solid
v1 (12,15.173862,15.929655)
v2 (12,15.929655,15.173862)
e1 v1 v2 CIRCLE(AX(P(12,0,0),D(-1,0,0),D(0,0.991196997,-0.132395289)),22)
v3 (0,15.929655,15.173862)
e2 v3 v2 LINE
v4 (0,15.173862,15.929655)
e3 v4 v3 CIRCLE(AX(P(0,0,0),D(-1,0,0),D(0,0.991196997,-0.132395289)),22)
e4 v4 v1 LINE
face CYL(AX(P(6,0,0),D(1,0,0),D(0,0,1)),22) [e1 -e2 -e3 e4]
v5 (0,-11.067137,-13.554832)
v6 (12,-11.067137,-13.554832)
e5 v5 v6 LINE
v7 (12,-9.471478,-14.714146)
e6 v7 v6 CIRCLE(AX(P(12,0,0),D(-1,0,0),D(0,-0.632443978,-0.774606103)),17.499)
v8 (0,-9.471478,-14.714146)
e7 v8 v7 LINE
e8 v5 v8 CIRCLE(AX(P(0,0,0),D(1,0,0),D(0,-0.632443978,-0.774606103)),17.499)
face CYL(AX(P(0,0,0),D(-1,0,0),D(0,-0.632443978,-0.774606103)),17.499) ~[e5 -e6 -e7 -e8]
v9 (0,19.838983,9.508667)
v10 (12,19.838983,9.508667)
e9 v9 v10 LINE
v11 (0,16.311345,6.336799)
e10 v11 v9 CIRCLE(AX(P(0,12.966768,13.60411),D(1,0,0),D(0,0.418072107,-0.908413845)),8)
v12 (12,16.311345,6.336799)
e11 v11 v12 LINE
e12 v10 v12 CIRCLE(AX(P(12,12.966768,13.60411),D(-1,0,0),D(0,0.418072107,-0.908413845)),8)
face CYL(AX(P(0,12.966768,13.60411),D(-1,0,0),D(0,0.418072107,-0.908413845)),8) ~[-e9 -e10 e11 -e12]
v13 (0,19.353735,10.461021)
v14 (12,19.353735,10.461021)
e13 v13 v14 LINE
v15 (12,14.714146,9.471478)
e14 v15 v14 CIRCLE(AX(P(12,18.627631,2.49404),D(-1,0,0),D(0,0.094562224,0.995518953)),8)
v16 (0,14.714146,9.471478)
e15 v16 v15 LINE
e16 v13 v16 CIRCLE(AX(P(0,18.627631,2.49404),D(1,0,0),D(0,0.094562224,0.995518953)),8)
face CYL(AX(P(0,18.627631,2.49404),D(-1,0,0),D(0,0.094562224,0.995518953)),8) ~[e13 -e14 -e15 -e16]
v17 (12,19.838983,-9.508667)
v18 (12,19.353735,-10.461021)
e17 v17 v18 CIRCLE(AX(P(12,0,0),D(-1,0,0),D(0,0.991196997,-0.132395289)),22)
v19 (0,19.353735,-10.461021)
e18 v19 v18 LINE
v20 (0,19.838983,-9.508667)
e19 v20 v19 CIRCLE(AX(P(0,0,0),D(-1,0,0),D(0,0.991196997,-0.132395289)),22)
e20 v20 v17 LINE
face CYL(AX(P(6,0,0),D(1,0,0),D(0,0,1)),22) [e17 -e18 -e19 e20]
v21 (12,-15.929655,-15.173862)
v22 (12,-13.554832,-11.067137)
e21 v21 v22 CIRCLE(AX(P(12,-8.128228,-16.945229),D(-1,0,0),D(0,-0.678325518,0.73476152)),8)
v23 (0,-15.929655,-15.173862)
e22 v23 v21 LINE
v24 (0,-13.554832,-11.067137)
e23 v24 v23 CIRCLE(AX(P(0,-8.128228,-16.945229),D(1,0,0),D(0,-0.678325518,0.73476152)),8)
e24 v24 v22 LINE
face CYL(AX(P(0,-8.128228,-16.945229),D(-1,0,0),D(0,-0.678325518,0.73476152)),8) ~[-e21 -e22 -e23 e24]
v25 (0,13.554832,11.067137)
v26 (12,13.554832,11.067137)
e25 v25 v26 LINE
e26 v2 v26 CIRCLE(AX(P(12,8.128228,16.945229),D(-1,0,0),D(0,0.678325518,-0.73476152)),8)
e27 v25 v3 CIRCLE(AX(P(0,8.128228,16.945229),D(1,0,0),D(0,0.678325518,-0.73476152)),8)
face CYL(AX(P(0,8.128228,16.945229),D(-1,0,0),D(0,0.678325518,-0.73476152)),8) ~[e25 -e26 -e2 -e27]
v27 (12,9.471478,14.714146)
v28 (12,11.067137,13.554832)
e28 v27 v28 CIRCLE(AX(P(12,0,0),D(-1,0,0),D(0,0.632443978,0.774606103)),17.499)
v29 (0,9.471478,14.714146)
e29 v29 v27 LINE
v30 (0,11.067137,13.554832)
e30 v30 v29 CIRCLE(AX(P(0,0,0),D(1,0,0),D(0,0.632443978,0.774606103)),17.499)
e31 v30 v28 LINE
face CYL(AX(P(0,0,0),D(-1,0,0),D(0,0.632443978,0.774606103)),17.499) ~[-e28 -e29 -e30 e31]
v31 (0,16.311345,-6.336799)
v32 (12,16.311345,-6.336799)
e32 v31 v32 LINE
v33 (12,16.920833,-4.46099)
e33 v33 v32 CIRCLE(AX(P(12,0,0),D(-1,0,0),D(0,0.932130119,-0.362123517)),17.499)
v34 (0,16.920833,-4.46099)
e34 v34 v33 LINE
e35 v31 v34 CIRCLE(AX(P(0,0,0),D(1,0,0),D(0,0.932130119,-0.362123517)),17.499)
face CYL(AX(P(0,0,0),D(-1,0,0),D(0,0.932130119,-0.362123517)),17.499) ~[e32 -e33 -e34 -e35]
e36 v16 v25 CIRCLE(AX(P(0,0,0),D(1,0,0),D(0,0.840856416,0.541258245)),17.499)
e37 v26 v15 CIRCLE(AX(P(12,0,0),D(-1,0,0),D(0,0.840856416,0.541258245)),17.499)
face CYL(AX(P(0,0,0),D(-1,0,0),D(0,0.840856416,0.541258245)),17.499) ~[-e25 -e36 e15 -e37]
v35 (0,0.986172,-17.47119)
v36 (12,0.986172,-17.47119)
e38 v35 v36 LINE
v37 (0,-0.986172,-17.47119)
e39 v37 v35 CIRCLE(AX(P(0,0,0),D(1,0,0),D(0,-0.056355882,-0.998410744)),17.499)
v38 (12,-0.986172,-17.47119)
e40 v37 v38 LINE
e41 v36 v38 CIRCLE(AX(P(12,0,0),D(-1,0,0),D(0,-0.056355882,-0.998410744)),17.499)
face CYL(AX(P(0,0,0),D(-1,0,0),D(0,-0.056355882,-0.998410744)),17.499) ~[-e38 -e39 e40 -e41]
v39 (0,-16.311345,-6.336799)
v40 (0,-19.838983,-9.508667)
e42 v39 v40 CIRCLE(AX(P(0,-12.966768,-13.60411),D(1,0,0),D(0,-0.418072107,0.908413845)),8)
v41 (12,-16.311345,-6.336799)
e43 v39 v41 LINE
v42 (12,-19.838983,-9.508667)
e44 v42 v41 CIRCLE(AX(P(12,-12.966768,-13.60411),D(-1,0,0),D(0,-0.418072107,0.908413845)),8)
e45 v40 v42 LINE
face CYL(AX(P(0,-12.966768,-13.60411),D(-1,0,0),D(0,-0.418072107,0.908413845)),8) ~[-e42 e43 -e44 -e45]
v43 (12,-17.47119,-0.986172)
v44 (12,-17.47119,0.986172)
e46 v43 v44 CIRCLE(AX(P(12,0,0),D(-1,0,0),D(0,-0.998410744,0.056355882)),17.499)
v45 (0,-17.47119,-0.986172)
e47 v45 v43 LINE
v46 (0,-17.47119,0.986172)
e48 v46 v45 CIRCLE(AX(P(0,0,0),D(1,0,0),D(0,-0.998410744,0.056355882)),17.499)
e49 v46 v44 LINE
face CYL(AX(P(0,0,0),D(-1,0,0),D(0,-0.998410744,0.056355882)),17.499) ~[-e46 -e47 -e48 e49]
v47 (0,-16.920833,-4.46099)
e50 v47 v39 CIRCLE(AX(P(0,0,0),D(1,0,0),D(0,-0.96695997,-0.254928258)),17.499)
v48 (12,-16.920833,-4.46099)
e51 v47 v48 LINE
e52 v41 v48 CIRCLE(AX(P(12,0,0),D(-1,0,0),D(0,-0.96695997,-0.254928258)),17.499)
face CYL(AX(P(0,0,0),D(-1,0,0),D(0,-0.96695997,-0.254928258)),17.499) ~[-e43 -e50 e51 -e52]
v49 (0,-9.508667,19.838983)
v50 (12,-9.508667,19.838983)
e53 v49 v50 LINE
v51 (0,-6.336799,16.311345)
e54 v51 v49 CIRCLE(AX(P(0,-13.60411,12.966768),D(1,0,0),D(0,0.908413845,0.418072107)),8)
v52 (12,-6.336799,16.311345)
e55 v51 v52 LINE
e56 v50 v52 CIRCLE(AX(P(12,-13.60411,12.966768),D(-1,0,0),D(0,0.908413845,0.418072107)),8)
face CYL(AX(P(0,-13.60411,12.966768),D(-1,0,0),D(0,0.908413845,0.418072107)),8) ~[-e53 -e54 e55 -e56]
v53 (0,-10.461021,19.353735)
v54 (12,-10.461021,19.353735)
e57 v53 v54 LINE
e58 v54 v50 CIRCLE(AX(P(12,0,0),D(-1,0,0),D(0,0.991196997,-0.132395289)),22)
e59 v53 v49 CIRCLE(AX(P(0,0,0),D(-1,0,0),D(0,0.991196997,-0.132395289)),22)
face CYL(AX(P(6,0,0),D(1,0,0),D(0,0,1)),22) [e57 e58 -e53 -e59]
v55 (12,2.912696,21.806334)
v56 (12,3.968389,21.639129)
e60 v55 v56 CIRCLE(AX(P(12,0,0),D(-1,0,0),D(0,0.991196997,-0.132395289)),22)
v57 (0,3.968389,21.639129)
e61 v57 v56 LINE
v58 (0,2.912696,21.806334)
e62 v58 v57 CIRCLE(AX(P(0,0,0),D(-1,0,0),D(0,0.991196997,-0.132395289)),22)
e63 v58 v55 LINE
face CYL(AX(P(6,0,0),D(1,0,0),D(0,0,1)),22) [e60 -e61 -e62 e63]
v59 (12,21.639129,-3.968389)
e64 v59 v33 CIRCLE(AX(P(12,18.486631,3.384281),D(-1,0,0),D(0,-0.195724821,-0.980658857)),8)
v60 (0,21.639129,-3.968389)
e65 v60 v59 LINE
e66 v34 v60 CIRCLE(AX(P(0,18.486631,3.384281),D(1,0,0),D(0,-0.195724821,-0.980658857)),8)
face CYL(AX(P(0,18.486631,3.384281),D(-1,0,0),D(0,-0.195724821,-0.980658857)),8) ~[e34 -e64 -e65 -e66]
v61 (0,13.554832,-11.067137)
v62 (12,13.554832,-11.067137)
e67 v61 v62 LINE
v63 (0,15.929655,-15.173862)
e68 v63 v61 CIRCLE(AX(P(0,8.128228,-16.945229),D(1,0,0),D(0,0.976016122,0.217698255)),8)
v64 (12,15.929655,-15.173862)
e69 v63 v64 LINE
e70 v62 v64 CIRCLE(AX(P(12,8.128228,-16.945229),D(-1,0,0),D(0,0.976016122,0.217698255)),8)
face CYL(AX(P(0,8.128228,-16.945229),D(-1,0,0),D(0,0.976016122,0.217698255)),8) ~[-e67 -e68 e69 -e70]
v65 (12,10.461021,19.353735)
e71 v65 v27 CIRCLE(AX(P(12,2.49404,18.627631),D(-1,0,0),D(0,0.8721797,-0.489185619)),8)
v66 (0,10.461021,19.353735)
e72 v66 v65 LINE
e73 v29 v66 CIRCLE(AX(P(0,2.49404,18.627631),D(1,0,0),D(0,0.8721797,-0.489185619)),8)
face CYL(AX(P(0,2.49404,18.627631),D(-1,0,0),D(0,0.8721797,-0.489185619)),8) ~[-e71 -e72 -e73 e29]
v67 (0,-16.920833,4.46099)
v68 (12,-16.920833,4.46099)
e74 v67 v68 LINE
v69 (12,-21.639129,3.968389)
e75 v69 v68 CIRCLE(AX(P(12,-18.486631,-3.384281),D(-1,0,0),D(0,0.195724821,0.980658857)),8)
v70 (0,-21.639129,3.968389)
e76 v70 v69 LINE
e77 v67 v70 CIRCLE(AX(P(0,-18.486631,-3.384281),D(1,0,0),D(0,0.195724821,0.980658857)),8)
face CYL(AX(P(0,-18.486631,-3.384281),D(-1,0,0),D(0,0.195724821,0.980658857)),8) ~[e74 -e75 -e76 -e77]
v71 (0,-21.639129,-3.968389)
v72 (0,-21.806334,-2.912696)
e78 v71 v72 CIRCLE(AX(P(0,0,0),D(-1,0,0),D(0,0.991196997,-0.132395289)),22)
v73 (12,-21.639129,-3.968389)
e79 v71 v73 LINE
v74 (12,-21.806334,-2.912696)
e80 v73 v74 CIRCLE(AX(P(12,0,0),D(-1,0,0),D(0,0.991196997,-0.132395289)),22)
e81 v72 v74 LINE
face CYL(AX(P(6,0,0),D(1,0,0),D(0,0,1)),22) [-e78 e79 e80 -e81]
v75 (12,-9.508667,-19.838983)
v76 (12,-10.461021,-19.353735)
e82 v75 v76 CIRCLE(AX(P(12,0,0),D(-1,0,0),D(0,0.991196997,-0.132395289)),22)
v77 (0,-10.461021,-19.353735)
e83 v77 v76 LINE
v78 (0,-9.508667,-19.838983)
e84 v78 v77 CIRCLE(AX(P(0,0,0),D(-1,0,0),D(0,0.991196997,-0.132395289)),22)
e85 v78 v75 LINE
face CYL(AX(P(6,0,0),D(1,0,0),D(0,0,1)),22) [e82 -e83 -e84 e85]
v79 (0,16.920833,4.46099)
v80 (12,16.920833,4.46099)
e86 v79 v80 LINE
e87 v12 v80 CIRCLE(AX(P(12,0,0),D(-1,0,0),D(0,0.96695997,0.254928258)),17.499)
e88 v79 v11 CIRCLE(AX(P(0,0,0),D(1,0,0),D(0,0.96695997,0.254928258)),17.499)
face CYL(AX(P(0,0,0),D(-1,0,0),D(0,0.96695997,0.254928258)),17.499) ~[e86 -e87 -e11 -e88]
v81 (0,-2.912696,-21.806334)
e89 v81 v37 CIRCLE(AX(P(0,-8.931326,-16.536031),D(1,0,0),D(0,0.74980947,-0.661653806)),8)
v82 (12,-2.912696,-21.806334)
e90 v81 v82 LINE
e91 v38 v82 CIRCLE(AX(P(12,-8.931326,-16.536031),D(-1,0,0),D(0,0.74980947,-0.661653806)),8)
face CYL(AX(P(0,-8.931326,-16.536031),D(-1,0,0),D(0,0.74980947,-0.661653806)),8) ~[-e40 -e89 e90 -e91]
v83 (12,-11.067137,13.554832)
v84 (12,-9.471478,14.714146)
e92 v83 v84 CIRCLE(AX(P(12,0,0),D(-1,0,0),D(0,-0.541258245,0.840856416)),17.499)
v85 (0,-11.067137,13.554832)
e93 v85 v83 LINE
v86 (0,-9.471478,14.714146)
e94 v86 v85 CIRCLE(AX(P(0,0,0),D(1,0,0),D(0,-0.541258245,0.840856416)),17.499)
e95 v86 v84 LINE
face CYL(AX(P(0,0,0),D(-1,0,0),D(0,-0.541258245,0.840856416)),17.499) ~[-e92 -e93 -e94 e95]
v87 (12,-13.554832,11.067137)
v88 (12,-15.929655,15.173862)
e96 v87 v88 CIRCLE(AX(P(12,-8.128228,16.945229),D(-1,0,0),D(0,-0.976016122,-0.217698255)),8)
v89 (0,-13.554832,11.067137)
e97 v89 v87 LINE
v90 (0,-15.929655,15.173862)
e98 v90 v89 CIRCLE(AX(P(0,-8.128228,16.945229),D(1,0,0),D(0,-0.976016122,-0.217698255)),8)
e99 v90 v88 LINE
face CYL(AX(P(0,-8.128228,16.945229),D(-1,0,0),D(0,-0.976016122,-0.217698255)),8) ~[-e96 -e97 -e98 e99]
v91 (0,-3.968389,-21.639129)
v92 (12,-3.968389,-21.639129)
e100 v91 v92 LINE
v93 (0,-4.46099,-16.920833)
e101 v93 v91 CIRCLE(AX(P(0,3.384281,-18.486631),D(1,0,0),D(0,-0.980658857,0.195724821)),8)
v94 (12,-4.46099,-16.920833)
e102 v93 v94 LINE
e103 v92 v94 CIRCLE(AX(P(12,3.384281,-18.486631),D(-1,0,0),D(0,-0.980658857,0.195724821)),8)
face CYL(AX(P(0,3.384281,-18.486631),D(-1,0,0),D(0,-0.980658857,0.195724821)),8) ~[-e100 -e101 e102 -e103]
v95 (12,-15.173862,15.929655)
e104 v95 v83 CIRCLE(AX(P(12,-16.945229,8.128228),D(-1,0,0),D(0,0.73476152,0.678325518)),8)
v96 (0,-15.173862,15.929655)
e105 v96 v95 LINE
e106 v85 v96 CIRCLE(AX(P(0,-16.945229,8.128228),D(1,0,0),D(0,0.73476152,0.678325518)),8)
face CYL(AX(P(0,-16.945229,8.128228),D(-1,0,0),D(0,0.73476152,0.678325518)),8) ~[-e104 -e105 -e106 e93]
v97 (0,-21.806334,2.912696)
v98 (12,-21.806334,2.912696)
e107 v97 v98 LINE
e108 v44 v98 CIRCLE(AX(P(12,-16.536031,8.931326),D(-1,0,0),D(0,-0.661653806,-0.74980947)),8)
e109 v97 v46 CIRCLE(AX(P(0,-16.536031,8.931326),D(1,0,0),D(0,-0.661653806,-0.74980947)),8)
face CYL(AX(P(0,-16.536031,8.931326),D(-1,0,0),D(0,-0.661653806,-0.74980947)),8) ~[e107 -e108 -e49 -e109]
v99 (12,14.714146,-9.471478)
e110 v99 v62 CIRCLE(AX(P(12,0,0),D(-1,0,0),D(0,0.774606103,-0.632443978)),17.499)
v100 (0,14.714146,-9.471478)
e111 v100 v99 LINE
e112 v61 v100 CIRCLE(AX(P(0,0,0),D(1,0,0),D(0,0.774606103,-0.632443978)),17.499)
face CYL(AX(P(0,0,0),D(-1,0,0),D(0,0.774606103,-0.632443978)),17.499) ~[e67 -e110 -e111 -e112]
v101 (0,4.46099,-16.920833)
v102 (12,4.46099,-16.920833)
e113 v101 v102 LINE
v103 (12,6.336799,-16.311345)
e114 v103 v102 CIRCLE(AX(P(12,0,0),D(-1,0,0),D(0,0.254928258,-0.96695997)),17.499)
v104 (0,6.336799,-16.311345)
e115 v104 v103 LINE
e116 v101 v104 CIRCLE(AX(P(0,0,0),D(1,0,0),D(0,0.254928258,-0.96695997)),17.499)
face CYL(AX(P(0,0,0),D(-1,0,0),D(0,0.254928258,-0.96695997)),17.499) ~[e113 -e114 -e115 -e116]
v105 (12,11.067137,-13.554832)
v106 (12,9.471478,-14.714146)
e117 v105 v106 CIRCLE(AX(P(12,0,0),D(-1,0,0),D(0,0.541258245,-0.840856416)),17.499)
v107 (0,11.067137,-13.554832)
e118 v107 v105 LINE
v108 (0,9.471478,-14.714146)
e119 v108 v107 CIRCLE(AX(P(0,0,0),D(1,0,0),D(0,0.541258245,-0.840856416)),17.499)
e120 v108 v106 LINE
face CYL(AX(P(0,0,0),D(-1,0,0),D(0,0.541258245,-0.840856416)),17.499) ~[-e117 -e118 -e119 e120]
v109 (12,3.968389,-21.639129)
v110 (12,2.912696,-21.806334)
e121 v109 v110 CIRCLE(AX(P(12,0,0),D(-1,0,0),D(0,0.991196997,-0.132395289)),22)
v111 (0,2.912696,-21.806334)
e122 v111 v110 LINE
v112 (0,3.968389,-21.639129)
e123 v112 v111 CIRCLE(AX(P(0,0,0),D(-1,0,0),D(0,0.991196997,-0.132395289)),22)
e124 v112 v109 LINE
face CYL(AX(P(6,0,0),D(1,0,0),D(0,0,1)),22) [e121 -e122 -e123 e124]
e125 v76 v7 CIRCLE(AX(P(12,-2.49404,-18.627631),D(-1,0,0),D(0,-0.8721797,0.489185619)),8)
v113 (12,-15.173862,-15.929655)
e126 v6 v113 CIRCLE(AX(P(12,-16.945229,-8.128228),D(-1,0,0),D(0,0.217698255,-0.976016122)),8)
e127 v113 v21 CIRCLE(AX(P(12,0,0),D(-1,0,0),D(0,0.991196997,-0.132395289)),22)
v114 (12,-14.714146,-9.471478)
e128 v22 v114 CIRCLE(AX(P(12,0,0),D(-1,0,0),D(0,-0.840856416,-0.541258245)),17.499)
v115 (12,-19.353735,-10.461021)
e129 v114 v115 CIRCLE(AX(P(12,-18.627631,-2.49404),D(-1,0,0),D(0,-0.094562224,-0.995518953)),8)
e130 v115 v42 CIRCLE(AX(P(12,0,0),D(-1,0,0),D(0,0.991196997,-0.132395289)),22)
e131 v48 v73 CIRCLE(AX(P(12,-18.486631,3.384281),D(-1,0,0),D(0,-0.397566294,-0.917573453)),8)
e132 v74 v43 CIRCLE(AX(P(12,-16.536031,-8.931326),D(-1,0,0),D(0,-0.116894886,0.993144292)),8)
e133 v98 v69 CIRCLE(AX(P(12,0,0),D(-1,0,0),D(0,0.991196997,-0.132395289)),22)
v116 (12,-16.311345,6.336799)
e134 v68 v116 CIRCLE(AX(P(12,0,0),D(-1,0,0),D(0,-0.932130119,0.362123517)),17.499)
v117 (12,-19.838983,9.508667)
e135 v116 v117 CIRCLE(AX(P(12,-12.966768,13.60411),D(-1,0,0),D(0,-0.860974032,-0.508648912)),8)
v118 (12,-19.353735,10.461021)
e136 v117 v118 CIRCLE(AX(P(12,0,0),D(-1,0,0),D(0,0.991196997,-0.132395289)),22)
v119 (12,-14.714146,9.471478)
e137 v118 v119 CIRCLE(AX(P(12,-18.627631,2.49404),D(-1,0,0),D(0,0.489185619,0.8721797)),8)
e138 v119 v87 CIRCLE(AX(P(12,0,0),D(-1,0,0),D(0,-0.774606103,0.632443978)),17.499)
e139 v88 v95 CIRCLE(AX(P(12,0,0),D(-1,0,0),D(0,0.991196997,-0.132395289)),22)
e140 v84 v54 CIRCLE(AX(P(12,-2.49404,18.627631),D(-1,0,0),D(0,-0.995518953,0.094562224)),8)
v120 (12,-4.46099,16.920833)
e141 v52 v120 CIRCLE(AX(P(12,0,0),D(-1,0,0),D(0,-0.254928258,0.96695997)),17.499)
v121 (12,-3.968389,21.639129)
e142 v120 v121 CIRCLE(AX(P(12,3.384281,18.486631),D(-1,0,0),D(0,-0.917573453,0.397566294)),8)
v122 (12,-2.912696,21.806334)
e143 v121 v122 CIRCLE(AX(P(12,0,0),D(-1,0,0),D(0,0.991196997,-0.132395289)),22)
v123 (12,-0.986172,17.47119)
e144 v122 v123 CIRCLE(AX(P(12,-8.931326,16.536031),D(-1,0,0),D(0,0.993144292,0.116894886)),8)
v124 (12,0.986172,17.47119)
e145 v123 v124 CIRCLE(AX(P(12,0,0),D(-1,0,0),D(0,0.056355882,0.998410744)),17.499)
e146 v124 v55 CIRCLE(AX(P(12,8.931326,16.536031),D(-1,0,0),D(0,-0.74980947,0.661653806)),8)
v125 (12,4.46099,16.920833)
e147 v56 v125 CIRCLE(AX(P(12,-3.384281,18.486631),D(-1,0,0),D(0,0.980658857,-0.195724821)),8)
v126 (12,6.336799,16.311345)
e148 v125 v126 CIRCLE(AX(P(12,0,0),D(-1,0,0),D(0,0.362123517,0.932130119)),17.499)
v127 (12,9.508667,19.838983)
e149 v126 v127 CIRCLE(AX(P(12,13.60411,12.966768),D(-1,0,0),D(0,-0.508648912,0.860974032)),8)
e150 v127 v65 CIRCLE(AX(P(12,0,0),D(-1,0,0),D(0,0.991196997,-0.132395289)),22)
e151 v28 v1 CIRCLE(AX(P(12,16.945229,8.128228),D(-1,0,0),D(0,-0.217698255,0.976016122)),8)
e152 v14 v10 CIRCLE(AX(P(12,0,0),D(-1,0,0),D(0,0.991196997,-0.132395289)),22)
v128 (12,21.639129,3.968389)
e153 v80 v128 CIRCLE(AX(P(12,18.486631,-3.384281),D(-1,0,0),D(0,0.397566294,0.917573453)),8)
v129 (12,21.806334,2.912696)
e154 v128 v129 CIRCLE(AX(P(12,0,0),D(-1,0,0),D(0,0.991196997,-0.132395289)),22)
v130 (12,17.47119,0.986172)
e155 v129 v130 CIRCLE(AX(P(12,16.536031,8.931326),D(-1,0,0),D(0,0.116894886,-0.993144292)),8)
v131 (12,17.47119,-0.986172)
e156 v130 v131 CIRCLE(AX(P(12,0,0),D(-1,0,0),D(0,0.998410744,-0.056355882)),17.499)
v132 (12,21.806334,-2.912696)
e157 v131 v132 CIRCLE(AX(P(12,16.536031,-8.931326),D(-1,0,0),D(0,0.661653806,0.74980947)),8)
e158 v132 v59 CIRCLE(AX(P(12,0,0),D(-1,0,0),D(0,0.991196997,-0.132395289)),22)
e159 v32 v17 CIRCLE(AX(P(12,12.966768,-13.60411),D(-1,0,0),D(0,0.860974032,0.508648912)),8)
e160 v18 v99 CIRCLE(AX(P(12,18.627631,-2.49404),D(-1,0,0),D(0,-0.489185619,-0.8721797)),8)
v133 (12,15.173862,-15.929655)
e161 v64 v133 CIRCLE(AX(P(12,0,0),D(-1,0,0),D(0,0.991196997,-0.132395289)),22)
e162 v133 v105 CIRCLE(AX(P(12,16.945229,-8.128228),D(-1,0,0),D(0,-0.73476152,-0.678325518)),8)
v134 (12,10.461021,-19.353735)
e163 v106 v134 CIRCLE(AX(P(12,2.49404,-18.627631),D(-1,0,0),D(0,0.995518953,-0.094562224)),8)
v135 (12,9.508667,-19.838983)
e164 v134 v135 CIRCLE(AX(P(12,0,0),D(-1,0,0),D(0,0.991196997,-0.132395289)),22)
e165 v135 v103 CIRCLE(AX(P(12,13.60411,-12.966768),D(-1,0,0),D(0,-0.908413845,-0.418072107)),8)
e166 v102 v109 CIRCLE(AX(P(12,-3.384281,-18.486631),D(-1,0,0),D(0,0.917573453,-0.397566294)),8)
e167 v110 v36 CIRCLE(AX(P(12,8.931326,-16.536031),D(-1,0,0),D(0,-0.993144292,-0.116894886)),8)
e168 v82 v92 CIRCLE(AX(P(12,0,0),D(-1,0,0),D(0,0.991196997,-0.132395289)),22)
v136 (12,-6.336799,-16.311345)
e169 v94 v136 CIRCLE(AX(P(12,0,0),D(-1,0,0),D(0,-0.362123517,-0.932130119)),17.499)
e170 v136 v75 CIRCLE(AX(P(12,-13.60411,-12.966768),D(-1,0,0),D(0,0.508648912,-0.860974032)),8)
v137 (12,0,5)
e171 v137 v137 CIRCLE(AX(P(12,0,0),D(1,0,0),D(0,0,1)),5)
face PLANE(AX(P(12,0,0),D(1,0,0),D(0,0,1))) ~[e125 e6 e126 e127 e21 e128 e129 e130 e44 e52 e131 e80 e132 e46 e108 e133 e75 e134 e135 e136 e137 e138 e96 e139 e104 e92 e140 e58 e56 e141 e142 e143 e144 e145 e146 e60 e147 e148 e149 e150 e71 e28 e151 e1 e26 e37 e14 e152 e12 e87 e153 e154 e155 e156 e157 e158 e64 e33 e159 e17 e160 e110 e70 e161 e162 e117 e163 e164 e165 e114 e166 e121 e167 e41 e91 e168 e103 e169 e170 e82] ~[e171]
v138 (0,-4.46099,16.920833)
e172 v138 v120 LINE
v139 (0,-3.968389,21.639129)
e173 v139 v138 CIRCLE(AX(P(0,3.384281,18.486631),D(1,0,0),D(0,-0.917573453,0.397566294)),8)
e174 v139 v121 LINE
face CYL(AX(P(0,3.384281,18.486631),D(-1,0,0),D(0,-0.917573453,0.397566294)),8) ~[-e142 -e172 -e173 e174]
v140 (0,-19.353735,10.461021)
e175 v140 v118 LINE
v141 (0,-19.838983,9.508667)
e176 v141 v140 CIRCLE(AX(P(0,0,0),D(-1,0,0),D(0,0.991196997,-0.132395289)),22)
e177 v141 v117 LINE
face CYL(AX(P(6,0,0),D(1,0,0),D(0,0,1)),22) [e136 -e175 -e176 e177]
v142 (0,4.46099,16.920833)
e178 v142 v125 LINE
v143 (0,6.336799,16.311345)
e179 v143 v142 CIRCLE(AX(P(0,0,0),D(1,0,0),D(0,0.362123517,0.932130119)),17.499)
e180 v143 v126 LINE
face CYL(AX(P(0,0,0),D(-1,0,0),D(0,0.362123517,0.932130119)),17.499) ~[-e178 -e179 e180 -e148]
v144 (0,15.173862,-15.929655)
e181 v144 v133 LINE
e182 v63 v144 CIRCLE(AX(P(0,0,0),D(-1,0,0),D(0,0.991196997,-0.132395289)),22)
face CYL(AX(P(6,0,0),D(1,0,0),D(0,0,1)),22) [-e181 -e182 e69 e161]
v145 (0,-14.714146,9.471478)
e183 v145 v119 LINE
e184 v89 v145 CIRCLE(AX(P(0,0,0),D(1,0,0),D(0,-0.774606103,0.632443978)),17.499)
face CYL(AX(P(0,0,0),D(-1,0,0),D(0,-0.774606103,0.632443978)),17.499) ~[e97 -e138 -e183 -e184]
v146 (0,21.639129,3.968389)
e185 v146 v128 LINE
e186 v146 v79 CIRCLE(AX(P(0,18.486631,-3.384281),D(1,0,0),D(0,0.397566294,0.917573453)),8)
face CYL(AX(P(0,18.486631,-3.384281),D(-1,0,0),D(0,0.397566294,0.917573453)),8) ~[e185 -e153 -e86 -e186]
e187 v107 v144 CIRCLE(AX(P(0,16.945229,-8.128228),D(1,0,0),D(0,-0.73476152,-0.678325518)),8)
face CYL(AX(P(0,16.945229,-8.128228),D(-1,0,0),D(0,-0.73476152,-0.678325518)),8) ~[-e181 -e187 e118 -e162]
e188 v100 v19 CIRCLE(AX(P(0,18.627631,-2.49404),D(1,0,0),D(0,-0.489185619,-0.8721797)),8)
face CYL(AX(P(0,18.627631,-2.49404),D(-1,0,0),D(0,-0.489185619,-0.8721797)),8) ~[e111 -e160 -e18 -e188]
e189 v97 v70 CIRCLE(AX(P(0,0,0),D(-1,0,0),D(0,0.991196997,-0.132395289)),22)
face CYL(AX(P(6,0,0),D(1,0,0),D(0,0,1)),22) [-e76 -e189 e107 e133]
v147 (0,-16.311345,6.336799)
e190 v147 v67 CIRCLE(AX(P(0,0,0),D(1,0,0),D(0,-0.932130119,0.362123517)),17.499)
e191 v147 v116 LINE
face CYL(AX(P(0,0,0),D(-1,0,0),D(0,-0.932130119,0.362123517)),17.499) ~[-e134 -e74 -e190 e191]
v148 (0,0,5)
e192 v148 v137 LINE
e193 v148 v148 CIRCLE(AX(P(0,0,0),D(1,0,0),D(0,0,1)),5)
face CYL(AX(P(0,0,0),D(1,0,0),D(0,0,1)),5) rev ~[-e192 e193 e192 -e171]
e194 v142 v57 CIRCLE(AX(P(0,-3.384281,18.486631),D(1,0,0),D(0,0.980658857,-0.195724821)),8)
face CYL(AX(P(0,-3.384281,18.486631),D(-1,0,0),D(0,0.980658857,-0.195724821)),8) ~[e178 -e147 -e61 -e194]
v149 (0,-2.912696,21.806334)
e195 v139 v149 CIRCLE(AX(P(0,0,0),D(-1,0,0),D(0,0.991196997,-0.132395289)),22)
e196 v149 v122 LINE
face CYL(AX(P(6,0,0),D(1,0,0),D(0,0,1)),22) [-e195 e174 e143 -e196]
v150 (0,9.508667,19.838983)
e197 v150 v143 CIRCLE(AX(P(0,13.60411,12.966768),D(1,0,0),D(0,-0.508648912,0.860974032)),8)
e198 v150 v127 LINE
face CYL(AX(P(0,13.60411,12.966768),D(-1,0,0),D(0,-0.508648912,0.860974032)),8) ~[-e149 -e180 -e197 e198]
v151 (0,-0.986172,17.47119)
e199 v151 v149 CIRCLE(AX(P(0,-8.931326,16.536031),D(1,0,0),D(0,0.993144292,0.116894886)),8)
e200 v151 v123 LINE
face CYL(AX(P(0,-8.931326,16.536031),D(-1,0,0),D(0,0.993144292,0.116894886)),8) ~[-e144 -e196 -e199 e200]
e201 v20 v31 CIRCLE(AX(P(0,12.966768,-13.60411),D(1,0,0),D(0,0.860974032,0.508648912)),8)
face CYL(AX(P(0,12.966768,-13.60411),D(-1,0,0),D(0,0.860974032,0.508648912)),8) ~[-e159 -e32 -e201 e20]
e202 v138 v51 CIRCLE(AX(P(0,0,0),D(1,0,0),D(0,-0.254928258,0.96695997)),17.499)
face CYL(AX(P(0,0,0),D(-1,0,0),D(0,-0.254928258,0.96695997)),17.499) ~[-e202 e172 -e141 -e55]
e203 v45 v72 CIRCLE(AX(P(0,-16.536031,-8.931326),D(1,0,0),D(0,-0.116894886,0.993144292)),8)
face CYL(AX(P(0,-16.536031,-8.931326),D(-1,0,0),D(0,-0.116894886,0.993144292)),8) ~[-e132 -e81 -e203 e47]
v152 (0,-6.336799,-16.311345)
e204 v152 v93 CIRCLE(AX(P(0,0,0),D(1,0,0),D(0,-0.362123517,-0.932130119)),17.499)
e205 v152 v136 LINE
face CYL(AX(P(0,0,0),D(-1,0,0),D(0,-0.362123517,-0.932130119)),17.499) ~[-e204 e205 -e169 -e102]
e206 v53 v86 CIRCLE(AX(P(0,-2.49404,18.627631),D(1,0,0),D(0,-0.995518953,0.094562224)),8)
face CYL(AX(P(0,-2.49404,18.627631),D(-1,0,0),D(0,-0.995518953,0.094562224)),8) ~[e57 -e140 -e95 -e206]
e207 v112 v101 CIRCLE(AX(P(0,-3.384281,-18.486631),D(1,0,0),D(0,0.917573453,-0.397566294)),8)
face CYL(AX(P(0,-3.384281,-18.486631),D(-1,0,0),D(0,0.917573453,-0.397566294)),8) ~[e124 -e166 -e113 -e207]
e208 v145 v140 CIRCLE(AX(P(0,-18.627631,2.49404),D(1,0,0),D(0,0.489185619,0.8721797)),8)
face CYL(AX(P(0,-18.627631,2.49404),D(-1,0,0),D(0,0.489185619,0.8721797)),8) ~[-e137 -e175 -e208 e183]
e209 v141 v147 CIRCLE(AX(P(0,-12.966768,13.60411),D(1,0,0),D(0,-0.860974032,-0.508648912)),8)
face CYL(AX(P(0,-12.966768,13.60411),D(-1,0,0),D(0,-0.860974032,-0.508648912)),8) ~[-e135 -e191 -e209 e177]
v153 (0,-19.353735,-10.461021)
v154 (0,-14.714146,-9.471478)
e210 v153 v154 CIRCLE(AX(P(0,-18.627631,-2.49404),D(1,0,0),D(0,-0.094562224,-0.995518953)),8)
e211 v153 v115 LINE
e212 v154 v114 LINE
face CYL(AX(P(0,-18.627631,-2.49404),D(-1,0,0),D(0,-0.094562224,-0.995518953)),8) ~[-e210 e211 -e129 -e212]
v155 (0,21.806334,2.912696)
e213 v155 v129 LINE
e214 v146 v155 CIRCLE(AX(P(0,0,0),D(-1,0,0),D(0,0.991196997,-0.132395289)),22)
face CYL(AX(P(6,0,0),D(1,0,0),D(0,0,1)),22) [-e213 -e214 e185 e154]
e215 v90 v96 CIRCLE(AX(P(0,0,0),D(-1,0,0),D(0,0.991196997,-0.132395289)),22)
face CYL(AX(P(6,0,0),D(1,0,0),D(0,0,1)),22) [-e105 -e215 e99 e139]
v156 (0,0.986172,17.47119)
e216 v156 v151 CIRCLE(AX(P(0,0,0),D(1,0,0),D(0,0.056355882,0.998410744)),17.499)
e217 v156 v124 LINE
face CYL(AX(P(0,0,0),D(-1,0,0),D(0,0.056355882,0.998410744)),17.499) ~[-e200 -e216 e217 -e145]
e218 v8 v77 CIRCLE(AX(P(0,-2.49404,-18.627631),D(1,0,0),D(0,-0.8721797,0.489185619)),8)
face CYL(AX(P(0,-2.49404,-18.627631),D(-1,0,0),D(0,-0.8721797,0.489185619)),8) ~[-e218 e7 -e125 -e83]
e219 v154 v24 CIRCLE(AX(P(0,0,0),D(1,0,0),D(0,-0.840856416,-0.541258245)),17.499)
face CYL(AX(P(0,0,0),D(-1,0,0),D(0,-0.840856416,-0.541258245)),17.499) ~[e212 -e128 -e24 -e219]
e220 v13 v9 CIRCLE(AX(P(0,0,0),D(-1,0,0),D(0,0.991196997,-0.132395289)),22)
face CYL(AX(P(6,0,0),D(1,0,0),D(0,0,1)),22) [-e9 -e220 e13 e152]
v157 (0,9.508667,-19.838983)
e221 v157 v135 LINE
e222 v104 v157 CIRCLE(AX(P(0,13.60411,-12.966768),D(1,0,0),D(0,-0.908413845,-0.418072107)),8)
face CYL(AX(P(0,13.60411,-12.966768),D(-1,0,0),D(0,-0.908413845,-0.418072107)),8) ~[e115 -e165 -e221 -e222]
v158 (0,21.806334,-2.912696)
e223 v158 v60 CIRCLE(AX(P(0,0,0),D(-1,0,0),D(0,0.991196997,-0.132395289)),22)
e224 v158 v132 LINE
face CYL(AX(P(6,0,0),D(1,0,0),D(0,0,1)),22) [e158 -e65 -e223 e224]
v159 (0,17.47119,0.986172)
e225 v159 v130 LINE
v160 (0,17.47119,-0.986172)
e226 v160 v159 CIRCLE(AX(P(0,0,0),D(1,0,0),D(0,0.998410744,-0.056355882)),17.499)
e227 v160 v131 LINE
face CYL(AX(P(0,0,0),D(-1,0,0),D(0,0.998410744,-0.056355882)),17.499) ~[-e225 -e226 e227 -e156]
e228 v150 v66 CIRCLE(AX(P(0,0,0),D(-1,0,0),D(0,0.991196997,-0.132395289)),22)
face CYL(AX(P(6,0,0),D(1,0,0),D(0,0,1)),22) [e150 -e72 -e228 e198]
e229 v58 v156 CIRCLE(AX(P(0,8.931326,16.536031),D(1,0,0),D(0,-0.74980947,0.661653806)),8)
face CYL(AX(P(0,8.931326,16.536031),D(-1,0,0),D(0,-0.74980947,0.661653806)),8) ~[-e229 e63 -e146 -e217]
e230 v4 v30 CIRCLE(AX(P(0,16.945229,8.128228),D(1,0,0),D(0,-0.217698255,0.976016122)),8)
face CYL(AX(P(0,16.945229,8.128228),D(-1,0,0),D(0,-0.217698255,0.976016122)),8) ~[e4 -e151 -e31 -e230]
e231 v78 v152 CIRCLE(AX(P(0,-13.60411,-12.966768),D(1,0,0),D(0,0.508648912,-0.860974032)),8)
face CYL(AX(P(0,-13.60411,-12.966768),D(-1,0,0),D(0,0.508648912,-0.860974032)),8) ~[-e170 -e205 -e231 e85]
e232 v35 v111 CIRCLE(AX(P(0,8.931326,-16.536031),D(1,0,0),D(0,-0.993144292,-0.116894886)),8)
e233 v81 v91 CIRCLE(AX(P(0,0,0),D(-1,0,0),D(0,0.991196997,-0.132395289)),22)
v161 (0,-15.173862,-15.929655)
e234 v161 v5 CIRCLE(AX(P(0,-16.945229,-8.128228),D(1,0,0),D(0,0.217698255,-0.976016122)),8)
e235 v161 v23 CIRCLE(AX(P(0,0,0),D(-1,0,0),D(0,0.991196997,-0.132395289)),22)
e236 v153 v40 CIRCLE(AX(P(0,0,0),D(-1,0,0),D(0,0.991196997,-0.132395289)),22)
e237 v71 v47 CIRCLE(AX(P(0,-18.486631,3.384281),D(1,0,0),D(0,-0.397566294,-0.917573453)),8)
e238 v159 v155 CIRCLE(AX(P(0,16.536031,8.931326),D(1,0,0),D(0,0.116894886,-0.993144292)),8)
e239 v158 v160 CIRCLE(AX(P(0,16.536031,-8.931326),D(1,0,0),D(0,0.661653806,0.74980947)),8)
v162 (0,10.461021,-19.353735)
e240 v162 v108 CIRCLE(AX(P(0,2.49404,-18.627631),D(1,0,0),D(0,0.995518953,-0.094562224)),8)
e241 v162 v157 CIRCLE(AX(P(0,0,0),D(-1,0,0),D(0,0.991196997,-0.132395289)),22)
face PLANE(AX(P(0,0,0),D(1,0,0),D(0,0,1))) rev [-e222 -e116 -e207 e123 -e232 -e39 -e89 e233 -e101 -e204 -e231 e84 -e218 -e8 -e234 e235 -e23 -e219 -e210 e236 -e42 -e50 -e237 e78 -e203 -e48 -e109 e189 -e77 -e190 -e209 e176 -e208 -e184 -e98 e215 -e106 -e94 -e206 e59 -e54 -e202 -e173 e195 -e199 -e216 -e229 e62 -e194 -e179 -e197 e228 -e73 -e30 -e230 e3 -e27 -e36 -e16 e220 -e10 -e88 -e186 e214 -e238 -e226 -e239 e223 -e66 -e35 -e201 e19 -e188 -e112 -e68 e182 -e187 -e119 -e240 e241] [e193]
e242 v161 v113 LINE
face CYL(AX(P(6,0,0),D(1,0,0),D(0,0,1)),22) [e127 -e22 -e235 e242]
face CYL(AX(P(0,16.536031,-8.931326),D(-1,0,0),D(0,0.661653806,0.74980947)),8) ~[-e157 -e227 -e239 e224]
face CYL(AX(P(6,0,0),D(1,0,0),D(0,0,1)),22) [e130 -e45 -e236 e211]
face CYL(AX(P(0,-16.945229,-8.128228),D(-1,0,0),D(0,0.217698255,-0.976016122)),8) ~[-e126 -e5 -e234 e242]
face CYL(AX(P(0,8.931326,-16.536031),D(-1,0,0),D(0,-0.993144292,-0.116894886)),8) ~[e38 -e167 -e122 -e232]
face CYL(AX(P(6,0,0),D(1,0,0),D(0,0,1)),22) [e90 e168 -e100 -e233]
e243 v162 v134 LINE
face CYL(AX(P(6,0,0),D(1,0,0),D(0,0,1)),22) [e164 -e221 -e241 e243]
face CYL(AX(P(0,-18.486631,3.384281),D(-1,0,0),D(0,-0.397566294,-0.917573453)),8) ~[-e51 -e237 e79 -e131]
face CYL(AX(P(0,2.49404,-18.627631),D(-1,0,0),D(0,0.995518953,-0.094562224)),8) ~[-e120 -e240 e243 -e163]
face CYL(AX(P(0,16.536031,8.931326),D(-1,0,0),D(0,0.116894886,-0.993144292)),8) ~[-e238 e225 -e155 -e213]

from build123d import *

# Parameters (mm, degrees)
BASPROSKE_W     = 12
BASPROSKE_H     = 22
TOOTHCUT_DEPTH  = 34.346664001
TEETHCUTS_COUNT = 20
TEETHCUTS_ANGLE = 342
BORSKE_R        = 5
BORE_DEPTH      = 50.0000508


with BuildPart() as part:
    # BasProSke → Base-Revolve (revolve)
    with BuildSketch(Plane(origin=(0, 0, 0), x_dir=(1, 0, 0), z_dir=(0, 1, 0)), mode=Mode.PRIVATE) as base_revolve_sk:
        with Locations((6, 11)):
            Rectangle(BASPROSKE_W, BASPROSKE_H)
    revolve(base_revolve_sk.sketch.rotate(Axis((-10, 0, 0), (1, 0, 0)), 180), axis=Axis((-10, 0, 0), (1, 0, 0)))

    # TooCutSke → ToothCut (cut, through all)
    with BuildSketch(Plane(origin=(0, 0, 0), x_dir=(0, 0, -1), z_dir=(1, 0, 0))):
        with BuildLine():
            ThreePointArc((0.986171591, 17.471189616), (0, 17.499), (-0.986171591, 17.471189616))
            ThreePointArc((-0.986171591, 17.471189616), (-1.626916196, 19.798789858), (-2.932850173, 21.829260982))
            ThreePointArc((-2.932850173, 21.829260982), (0, 22.0254), (2.932850173, 21.829260982))
            ThreePointArc((2.932850173, 21.829260982), (1.626916196, 19.798789858), (0.986171591, 17.471189616))
        make_face()
    toothcut = extrude(amount=TOOTHCUT_DEPTH, mode=Mode.SUBTRACT)

    # TeethCuts: ToothCut ×20 about axis
    teethcuts_axis = Axis((-10, 0, 0), (1, 0, 0))
    for i in range(1, TEETHCUTS_COUNT):
        add(toothcut.rotate(teethcuts_axis, i * TEETHCUTS_ANGLE / (TEETHCUTS_COUNT - 1)), mode=Mode.SUBTRACT)

    # BorSke → Bore (cut, symmetric)
    with BuildSketch(Plane(origin=(0, 0, 0), x_dir=(0, 0, -1), z_dir=(1, 0, 0))):
        with Locations(Location((0, 0, 0), (0, 0, 180))):
            Circle(BORSKE_R)
    extrude(amount=BORE_DEPTH, both=True, mode=Mode.SUBTRACT)


solid = part.part
